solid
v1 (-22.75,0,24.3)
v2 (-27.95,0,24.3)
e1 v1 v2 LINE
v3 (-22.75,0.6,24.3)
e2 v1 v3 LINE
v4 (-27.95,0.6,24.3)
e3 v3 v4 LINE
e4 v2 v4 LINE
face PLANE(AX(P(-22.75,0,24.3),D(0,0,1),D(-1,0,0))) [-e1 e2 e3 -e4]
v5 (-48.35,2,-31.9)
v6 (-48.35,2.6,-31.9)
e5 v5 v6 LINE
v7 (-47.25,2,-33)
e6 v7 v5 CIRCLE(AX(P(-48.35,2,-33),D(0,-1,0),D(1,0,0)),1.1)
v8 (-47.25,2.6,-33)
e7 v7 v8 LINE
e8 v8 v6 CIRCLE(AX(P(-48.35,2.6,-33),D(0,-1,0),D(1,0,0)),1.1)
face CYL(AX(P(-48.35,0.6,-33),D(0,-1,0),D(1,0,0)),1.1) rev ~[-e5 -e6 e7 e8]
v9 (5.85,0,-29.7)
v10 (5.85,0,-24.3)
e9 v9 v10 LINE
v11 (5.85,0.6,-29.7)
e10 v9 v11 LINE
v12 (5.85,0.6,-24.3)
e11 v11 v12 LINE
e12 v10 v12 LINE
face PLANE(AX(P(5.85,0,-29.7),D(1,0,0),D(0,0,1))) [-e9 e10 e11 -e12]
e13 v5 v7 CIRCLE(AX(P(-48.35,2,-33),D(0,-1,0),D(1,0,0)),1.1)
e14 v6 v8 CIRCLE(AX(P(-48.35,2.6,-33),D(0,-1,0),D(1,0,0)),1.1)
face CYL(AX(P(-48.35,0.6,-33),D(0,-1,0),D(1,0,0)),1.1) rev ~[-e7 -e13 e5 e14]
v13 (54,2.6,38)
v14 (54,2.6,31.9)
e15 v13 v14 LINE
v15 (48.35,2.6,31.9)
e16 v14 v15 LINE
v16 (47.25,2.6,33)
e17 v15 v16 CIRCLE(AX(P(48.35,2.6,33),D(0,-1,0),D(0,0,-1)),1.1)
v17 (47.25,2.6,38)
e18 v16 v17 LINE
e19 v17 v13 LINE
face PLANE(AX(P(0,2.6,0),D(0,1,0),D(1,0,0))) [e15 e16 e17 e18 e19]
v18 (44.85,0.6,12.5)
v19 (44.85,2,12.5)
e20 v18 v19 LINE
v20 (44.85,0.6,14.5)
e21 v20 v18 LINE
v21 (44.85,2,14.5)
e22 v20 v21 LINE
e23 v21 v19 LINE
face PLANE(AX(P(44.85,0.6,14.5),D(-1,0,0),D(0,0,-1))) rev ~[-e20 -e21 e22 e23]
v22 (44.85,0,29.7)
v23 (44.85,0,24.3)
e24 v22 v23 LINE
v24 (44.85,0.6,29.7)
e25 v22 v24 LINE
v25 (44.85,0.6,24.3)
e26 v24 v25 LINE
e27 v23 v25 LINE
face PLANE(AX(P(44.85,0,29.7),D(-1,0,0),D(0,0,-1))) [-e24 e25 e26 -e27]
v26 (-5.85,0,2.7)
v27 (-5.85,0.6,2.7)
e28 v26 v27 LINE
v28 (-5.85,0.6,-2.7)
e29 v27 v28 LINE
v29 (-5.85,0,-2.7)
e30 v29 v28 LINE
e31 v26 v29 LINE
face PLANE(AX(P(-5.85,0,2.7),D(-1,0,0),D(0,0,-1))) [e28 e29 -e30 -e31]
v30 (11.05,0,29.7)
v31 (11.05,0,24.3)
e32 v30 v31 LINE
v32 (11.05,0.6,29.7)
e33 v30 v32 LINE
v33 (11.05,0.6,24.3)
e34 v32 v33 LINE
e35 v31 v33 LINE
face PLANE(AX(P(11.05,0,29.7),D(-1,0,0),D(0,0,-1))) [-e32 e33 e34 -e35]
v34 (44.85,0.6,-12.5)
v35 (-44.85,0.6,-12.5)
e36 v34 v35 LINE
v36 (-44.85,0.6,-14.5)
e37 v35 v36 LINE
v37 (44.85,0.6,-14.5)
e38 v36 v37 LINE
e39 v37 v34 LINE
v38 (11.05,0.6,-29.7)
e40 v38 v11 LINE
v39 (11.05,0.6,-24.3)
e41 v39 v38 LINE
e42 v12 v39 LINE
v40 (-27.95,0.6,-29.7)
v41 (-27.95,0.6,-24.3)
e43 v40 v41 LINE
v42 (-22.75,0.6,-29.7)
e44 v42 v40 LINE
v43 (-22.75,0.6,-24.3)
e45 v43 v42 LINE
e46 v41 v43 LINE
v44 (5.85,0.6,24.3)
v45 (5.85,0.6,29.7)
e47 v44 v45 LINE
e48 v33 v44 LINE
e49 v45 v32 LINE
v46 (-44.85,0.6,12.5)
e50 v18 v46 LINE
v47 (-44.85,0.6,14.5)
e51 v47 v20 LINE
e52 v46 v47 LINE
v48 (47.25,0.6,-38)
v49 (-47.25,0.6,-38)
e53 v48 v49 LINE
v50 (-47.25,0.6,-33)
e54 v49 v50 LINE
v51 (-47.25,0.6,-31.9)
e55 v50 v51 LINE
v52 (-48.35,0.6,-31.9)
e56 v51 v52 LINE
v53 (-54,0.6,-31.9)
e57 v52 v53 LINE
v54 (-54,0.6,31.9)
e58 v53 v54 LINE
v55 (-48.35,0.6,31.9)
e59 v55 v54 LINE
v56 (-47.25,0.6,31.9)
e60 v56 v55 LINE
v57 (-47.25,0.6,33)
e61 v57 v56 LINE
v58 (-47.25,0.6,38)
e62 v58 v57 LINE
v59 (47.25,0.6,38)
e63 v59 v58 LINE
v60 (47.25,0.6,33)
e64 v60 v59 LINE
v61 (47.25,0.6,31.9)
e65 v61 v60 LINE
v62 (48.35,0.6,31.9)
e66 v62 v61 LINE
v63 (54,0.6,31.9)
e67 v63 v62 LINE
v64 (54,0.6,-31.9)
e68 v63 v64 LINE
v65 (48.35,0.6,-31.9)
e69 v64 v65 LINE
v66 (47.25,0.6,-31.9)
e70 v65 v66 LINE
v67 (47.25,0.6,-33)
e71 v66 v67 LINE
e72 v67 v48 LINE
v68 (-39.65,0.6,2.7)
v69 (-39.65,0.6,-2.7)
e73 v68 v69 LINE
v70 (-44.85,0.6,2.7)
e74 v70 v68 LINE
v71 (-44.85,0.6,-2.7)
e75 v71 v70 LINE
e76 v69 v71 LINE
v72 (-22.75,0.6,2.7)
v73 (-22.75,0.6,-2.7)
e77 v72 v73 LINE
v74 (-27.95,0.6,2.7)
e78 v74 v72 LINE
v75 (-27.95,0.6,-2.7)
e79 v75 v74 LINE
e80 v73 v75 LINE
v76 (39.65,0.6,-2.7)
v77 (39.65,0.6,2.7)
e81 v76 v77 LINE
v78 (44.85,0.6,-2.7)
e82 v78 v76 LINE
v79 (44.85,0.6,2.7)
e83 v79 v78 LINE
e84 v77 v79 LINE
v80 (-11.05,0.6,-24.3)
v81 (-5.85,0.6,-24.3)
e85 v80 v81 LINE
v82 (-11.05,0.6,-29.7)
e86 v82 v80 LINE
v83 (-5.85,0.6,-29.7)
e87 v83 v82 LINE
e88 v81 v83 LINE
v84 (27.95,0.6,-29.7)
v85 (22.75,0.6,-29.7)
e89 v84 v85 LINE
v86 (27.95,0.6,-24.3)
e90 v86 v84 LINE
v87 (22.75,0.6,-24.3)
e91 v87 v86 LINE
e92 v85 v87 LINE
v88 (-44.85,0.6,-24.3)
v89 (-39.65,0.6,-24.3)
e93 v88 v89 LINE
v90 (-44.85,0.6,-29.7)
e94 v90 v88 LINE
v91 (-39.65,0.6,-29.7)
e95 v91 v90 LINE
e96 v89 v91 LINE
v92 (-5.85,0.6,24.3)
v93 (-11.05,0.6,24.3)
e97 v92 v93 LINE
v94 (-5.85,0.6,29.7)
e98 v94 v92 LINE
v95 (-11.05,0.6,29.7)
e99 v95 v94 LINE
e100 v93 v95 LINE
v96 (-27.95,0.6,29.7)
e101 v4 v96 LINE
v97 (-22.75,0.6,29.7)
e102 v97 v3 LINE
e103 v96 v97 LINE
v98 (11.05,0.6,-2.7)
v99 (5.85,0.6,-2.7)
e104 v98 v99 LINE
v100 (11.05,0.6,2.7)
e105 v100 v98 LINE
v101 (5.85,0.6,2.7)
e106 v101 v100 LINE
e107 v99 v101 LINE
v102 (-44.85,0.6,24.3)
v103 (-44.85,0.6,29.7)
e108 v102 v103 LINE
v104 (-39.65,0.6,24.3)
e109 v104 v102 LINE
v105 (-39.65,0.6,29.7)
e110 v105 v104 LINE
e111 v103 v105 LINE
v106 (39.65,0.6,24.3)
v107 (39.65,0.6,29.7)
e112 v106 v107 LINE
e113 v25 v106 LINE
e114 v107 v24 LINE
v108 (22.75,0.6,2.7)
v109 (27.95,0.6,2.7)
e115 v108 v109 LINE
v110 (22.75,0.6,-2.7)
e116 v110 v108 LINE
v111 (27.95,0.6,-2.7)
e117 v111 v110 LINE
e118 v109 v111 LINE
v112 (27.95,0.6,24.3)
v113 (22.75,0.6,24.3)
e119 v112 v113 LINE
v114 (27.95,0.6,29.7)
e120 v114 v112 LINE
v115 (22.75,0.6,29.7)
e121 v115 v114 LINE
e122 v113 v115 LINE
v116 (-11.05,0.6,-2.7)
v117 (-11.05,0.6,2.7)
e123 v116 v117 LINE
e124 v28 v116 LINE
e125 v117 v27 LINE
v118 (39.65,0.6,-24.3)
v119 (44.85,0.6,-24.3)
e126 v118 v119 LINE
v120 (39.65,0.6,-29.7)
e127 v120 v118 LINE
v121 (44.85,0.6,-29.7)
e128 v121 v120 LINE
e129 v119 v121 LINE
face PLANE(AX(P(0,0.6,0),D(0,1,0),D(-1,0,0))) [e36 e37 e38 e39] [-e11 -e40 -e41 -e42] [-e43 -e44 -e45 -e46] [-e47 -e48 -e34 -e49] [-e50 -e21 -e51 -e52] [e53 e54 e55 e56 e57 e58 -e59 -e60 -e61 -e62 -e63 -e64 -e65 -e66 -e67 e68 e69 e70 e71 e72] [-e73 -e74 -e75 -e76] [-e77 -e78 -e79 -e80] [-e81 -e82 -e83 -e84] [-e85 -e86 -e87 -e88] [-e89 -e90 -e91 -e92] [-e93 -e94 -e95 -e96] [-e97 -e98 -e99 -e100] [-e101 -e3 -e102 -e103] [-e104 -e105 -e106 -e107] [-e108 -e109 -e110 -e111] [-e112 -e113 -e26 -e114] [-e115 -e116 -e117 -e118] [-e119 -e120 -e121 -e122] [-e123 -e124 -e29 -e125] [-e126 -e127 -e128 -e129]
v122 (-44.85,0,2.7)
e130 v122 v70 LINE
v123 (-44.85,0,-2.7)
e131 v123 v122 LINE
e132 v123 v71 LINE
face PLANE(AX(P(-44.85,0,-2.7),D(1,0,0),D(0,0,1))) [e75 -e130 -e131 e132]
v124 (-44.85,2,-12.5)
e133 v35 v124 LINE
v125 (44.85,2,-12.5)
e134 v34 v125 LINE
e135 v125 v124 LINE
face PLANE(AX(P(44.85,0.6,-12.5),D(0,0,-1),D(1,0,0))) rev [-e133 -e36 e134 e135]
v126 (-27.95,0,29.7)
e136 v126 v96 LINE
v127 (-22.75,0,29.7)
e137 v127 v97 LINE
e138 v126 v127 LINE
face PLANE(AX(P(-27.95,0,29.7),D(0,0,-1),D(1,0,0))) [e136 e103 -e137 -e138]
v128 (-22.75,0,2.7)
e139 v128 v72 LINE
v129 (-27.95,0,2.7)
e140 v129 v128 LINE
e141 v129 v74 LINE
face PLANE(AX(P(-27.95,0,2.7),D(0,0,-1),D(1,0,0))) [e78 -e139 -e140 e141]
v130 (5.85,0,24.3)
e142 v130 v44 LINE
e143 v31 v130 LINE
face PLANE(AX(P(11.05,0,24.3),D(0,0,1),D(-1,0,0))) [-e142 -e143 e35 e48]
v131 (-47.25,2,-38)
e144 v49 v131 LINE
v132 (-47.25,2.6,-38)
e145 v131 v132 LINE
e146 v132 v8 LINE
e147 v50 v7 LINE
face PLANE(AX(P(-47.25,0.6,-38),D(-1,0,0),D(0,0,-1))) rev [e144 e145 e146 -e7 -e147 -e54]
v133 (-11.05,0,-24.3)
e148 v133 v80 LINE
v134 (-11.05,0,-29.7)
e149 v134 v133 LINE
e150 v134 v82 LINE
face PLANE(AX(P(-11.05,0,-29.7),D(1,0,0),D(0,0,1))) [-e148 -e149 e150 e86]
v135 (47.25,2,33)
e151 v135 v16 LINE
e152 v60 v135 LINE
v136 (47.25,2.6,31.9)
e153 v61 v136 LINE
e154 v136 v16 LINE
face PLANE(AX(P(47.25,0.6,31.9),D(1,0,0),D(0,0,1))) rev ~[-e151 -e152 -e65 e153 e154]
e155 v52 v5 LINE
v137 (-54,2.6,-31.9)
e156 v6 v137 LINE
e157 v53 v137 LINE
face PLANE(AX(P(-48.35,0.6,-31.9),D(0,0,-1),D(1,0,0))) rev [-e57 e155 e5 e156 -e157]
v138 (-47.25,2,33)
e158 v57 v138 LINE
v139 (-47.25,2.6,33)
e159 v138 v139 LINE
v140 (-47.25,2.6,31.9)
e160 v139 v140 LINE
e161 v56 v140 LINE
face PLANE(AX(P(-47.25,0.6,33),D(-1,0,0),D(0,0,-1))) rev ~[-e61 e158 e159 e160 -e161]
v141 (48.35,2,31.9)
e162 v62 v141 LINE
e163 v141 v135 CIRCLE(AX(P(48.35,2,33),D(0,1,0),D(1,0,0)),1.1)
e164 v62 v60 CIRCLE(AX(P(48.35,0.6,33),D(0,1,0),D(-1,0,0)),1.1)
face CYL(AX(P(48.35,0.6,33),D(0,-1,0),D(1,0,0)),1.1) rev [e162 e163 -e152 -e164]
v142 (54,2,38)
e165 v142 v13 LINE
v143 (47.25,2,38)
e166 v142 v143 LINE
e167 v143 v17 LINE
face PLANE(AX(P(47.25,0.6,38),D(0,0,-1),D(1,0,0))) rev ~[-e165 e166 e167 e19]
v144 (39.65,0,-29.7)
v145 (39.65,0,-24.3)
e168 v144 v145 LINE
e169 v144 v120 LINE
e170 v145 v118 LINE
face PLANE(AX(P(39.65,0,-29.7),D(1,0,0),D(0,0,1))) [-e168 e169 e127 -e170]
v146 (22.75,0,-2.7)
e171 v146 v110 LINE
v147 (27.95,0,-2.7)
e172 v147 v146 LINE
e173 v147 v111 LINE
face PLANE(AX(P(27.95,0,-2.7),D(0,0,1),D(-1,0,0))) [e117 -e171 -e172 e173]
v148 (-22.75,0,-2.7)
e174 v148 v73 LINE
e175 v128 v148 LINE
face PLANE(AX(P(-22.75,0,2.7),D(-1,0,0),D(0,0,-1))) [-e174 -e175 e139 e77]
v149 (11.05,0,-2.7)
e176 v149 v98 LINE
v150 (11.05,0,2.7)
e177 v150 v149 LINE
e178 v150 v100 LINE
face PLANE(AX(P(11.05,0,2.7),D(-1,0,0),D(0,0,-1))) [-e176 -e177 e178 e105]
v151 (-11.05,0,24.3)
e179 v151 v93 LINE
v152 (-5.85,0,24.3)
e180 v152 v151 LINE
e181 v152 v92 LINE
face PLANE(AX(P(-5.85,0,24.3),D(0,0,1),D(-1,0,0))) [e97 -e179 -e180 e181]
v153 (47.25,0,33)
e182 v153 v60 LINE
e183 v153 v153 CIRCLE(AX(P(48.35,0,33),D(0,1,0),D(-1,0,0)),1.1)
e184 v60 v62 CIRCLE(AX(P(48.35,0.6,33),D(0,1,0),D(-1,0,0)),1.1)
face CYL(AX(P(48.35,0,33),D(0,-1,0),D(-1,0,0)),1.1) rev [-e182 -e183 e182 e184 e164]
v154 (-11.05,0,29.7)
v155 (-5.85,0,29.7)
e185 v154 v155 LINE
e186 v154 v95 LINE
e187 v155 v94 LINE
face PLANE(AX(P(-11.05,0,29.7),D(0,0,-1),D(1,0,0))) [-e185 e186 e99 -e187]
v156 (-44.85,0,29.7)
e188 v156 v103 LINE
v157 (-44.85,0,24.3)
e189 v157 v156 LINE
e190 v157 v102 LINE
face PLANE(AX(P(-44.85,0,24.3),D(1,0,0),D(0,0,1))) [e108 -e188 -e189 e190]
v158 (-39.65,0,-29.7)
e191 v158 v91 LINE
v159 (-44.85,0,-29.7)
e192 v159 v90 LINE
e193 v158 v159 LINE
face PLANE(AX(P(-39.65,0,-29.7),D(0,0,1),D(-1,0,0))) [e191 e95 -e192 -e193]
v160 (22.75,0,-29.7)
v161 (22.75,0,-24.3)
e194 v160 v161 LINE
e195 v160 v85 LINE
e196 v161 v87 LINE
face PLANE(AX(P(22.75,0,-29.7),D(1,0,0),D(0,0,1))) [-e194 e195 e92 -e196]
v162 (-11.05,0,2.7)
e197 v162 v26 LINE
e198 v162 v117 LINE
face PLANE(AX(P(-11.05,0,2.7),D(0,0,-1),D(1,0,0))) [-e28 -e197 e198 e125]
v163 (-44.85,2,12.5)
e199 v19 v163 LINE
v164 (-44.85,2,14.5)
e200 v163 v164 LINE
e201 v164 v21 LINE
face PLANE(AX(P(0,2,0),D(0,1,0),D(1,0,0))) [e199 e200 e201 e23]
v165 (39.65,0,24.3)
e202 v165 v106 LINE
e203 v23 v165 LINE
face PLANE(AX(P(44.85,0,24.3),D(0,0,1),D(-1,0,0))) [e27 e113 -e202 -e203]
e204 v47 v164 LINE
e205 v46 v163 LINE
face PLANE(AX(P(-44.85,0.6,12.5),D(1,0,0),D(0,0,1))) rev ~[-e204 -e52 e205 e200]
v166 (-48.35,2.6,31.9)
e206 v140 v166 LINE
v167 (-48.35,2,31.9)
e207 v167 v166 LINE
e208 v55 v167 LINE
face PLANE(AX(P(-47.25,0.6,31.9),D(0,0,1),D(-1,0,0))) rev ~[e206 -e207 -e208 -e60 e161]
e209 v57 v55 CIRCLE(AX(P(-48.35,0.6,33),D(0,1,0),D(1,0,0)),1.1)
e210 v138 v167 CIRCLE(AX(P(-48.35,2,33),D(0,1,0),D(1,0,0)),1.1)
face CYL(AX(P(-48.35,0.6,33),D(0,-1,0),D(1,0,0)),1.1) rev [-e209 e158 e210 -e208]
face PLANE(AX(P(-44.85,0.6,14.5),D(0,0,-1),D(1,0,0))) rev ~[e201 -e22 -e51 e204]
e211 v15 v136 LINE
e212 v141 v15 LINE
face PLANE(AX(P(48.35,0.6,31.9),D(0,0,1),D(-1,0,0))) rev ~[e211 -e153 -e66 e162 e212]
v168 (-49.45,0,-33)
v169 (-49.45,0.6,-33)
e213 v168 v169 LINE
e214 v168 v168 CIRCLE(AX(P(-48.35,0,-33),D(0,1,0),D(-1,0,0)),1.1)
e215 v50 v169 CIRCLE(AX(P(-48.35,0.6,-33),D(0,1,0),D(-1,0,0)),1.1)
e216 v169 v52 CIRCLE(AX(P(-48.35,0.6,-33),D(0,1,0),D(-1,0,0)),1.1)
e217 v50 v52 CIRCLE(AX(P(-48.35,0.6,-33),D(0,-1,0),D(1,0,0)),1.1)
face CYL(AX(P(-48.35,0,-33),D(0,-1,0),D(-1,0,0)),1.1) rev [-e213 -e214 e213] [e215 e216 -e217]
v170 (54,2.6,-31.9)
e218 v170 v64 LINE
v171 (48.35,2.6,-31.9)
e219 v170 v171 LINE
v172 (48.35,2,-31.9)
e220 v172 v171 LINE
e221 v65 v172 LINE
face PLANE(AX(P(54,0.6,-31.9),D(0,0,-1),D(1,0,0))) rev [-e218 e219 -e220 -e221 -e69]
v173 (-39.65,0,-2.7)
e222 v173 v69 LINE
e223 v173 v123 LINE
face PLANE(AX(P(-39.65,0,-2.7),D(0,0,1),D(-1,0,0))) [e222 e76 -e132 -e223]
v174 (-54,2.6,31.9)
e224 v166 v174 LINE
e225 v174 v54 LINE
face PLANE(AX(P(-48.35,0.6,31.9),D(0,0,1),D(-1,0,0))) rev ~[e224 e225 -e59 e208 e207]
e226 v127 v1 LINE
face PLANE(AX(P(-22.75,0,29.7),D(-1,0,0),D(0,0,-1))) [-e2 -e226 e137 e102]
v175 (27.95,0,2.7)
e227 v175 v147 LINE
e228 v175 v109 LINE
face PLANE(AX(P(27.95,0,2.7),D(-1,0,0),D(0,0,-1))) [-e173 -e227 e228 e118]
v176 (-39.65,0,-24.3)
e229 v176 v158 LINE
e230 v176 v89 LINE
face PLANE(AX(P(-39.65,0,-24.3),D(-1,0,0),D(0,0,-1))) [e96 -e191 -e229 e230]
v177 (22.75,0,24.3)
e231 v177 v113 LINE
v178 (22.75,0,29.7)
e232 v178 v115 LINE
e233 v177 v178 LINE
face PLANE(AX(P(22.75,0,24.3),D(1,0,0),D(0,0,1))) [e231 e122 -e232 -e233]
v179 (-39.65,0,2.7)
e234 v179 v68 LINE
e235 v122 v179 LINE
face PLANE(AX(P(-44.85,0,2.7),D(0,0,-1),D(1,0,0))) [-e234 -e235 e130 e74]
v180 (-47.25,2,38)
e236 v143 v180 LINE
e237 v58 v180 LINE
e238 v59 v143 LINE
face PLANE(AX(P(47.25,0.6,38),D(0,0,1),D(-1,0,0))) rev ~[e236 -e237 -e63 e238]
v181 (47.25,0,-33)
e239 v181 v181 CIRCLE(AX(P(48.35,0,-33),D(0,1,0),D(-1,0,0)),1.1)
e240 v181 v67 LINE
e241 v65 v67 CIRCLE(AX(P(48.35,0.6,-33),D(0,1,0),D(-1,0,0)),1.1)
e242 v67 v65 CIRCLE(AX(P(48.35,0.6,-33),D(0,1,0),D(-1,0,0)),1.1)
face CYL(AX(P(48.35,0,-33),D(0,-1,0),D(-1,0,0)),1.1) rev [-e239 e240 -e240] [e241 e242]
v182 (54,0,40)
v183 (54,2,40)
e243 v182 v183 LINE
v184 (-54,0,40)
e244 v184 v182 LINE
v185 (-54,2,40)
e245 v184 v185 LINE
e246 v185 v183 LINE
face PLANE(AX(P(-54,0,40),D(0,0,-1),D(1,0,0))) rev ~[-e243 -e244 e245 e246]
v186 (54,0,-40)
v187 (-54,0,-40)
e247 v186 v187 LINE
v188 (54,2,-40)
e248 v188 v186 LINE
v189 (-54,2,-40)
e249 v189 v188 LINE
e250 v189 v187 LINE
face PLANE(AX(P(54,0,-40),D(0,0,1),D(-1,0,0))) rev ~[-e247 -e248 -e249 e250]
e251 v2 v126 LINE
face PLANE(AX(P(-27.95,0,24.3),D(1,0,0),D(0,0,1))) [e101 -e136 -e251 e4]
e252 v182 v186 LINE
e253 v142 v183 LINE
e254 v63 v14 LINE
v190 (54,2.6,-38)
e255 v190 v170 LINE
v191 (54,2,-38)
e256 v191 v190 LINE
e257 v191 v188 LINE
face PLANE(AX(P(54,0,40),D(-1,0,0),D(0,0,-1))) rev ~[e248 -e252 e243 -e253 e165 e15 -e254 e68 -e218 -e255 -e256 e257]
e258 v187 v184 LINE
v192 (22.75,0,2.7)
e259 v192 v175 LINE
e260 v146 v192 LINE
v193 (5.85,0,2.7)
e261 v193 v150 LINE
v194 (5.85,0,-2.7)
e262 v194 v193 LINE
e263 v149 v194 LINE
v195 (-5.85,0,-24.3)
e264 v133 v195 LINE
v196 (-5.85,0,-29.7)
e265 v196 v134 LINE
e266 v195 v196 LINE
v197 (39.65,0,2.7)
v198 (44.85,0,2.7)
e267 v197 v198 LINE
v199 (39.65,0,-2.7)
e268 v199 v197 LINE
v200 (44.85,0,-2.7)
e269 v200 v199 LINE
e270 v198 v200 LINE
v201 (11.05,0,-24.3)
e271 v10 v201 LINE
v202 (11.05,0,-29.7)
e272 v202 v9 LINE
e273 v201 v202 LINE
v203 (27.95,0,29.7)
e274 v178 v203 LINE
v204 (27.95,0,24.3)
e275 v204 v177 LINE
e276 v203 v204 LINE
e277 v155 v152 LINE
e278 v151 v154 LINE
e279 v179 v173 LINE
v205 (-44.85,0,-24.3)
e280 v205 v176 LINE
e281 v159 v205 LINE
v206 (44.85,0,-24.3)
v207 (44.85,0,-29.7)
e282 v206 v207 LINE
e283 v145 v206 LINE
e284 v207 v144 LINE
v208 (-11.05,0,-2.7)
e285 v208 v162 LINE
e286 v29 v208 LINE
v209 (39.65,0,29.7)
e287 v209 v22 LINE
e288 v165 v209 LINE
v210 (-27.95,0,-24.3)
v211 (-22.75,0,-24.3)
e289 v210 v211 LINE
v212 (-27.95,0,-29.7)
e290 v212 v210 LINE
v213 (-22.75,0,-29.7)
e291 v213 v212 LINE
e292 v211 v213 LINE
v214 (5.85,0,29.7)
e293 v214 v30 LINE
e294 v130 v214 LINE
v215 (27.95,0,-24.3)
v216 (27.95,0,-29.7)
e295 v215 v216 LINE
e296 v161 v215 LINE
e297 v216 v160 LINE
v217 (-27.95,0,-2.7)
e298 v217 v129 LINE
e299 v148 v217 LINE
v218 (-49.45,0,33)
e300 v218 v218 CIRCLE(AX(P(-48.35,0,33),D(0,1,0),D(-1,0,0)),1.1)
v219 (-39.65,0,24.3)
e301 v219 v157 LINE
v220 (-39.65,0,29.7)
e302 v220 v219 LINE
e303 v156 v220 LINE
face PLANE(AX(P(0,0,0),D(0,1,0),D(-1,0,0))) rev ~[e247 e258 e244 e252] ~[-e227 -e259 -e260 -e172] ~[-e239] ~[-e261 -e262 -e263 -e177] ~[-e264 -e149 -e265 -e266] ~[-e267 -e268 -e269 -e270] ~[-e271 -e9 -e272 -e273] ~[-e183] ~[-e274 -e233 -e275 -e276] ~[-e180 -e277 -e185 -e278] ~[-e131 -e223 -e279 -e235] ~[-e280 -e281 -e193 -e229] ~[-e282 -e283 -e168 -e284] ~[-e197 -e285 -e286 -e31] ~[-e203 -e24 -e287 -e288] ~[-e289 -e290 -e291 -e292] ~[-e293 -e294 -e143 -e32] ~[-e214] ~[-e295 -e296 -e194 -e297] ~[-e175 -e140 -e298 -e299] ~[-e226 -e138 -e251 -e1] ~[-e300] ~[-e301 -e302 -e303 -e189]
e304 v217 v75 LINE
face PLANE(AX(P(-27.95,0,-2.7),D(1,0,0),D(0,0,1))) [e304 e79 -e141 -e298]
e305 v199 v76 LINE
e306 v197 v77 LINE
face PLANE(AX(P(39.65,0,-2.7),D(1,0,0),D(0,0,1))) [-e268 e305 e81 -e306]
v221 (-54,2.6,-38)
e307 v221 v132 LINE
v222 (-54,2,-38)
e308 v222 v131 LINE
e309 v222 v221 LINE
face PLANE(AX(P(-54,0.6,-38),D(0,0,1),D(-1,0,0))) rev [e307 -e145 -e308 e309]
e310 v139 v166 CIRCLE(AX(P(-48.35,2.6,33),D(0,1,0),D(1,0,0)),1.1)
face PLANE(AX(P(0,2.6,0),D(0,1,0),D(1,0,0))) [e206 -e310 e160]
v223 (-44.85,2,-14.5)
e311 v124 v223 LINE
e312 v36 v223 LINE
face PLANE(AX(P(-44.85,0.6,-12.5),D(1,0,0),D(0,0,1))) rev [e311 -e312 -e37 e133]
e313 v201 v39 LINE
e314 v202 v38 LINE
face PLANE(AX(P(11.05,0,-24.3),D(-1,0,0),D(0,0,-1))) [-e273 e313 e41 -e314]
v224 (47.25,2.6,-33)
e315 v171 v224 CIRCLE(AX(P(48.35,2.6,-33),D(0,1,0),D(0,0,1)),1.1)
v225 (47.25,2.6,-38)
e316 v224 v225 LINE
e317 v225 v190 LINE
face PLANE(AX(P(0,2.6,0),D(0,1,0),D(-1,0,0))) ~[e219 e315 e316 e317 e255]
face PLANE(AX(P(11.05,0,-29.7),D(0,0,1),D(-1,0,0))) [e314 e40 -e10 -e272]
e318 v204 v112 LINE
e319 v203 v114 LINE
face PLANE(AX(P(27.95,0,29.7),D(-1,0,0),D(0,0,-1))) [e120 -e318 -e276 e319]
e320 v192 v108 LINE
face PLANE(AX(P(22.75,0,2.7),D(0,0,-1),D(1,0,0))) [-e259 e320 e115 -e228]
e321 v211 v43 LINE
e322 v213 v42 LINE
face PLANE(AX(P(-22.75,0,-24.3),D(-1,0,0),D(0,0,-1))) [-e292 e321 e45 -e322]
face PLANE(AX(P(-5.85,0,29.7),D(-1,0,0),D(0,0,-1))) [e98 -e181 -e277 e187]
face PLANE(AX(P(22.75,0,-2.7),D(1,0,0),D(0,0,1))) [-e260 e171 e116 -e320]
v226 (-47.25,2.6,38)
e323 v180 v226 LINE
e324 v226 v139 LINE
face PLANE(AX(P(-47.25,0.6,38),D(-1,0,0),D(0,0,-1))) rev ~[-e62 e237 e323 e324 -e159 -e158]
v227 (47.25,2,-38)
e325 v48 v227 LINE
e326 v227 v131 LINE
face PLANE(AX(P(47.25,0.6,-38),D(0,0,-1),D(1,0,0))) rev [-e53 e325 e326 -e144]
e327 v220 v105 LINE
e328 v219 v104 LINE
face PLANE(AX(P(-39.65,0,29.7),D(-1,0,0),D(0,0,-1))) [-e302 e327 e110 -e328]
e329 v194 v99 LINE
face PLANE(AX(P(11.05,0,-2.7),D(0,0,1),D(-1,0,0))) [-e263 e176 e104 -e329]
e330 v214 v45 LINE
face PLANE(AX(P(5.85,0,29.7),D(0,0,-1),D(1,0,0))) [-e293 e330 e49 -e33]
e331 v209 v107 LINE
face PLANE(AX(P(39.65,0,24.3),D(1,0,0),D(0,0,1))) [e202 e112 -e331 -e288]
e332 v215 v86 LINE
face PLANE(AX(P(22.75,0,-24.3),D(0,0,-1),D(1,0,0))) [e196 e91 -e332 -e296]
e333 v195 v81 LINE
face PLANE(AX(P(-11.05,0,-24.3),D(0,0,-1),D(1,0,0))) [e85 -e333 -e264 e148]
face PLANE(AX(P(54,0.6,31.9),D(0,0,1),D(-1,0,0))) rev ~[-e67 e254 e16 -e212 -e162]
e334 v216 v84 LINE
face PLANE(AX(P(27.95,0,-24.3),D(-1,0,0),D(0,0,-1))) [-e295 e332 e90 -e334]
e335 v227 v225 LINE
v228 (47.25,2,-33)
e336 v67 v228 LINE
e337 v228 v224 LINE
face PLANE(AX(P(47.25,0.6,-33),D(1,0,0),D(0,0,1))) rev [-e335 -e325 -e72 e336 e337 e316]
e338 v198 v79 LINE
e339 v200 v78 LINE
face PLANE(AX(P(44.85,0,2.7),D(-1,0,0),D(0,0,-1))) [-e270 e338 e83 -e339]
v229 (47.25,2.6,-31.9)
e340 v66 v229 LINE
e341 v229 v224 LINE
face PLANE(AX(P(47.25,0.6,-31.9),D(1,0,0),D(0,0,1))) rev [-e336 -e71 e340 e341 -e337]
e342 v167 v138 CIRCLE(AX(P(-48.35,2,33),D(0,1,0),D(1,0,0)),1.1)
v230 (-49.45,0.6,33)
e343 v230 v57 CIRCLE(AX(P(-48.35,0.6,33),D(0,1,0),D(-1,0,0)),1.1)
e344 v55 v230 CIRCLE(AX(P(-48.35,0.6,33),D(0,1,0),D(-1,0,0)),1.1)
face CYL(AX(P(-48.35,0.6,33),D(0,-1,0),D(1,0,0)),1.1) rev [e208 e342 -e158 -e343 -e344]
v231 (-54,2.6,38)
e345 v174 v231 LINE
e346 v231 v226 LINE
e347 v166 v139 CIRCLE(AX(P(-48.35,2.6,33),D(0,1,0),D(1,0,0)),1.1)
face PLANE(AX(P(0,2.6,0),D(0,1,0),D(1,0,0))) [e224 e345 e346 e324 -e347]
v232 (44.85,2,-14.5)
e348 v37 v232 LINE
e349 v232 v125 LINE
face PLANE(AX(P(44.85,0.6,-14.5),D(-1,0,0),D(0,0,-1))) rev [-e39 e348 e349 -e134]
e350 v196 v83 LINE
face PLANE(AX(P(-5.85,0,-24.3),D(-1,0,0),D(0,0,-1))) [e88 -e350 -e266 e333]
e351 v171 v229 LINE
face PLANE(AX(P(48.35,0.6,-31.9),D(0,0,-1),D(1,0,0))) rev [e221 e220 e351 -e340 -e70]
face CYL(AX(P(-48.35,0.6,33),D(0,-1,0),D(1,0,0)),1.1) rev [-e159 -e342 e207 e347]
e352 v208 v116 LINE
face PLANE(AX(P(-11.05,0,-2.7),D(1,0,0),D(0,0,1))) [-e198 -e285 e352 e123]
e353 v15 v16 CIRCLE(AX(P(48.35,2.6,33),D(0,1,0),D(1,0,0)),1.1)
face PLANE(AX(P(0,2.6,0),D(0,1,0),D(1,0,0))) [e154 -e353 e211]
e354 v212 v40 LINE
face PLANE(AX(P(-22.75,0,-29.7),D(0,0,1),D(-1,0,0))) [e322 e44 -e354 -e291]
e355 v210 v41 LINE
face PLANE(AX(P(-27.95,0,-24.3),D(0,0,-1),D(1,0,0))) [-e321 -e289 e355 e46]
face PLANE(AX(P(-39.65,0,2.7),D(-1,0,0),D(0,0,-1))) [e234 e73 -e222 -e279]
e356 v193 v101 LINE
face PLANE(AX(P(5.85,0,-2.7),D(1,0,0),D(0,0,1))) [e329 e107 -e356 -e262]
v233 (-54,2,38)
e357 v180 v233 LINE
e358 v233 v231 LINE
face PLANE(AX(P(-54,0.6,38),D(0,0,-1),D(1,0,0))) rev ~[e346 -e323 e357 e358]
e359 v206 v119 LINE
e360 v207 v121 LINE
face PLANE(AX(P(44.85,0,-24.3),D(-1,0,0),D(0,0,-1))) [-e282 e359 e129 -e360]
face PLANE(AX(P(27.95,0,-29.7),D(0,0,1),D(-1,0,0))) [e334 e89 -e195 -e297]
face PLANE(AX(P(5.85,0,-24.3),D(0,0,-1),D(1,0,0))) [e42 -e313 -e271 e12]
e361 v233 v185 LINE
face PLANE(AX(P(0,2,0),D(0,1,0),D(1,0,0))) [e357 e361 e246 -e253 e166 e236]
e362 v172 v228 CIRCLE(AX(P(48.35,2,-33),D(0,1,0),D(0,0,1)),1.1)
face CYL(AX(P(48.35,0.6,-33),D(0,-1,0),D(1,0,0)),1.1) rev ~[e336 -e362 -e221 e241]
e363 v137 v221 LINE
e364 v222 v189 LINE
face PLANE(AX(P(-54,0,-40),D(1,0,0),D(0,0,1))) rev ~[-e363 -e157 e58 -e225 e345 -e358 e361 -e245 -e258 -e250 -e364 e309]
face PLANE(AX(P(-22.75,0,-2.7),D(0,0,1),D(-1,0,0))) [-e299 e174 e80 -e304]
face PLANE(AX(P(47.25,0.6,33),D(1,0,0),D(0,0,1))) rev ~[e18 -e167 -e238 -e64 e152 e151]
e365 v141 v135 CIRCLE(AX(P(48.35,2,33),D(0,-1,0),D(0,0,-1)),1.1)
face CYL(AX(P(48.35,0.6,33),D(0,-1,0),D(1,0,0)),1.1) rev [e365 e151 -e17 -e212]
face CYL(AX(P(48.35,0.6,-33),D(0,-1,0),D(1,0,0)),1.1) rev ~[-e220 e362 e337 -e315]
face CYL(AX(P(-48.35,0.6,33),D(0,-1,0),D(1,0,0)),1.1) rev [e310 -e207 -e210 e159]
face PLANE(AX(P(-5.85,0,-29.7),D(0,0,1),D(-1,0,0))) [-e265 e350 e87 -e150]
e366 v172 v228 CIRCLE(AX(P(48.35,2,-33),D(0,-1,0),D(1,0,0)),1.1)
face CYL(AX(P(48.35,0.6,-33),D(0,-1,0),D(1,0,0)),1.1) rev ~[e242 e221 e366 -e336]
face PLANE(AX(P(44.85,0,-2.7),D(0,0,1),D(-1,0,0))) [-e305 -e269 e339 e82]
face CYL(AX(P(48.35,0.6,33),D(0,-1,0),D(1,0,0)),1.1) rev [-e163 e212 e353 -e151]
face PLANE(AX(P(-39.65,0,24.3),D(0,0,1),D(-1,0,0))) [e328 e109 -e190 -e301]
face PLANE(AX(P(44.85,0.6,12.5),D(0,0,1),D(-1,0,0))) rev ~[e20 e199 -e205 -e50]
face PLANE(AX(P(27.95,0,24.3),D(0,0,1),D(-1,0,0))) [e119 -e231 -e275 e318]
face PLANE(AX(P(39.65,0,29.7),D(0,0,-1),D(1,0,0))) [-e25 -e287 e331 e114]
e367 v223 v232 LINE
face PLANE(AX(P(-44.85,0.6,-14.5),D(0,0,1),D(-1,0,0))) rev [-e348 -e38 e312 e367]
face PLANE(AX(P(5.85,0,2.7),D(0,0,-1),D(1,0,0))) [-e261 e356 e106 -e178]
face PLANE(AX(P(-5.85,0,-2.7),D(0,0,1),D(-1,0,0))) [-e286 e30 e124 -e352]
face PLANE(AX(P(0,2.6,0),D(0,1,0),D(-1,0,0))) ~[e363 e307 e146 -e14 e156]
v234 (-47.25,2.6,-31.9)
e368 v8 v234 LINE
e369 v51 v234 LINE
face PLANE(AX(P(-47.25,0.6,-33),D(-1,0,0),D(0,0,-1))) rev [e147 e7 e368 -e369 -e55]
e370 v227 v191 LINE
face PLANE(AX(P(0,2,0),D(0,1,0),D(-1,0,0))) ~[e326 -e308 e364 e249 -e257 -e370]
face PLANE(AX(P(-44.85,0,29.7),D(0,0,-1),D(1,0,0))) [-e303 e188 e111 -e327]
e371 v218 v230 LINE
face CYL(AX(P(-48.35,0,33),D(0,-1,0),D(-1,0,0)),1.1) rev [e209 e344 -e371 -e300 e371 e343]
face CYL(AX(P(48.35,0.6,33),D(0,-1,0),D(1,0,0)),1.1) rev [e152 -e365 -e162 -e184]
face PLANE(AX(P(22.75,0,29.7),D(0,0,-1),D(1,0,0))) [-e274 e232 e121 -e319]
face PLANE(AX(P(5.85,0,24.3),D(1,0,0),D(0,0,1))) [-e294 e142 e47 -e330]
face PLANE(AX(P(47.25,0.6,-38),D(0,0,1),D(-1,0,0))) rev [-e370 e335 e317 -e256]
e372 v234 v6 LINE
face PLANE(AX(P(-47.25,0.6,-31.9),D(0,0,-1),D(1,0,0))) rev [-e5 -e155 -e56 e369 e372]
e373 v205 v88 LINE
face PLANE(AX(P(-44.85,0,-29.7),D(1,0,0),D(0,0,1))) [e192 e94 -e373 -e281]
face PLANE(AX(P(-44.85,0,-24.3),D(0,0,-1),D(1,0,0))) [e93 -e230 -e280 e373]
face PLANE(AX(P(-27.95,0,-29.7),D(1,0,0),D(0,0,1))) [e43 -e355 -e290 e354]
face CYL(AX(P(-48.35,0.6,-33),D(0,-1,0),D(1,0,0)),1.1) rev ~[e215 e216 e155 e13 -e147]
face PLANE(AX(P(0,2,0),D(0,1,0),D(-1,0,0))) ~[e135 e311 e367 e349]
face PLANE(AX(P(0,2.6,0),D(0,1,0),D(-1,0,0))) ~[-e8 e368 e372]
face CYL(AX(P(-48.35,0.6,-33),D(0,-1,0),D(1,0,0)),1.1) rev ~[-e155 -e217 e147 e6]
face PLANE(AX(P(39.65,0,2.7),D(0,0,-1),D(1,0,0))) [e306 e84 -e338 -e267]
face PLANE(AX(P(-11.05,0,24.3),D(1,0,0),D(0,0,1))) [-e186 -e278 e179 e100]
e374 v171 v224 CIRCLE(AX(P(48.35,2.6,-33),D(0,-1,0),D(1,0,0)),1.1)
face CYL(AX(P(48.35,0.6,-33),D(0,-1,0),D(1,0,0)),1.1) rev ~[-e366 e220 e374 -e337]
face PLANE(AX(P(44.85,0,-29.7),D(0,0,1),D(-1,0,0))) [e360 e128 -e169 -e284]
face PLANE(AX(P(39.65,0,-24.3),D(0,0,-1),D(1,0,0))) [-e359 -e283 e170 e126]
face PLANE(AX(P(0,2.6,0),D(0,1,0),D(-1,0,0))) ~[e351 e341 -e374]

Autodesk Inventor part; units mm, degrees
ref_plane "YZ Plane" through (0, 0, 0) normal (1, 0, 0) x (0, 1, 0)
ref_plane "XZ Plane" through (0, 0, 0) normal (0, 1, 0) x (-1, 0, 0)
ref_plane "XY Plane" through (0, 0, 0) normal (0, 0, 1) x (1, 0, 0)
sketch "Sketch1" plane through (0, 0, 0) normal (0, 1, 0) x (-1, 0, 0)
  line L0 (54, 40) -> (-54, 40)
  line L1 (-54, 40) -> (-54, -40)
  line L2 (-54, -40) -> (54, -40)
  line L3 (54, -40) -> (54, 40)
  line L4 (44.85, 29.7) -> (39.65, 29.7)
  line L5 (39.65, 29.7) -> (39.65, 24.3)
  line L6 (39.65, 24.3) -> (44.85, 24.3)
  line L7 (44.85, 24.3) -> (44.85, 29.7)
  line L8 (44.85, 2.7) -> (39.65, 2.7)
  line L9 (39.65, 2.7) -> (39.65, -2.7)
  line L10 (39.65, -2.7) -> (44.85, -2.7)
  line L11 (44.85, -2.7) -> (44.85, 2.7)
  line L12 (44.85, -24.3) -> (39.65, -24.3)
  line L13 (39.65, -24.3) -> (39.65, -29.7)
  line L14 (39.65, -29.7) -> (44.85, -29.7)
  line L15 (44.85, -29.7) -> (44.85, -24.3)
  line L16 (27.95, 29.7) -> (22.75, 29.7)
  line L17 (22.75, 29.7) -> (22.75, 24.3)
  line L18 (22.75, 24.3) -> (27.95, 24.3)
  line L19 (27.95, 24.3) -> (27.95, 29.7)
  line L20 (27.95, 2.7) -> (22.75, 2.7)
  line L21 (22.75, 2.7) -> (22.75, -2.7)
  line L22 (22.75, -2.7) -> (27.95, -2.7)
  line L23 (27.95, -2.7) -> (27.95, 2.7)
  line L24 (27.95, -24.3) -> (22.75, -24.3)
  line L25 (22.75, -24.3) -> (22.75, -29.7)
  line L26 (22.75, -29.7) -> (27.95, -29.7)
  line L27 (27.95, -29.7) -> (27.95, -24.3)
  line L28 (11.05, 29.7) -> (5.85, 29.7)
  line L29 (5.85, 29.7) -> (5.85, 24.3)
  line L30 (5.85, 24.3) -> (11.05, 24.3)
  line L31 (11.05, 24.3) -> (11.05, 29.7)
  line L32 (11.05, 2.7) -> (5.85, 2.7)
  line L33 (5.85, 2.7) -> (5.85, -2.7)
  line L34 (5.85, -2.7) -> (11.05, -2.7)
  line L35 (11.05, -2.7) -> (11.05, 2.7)
  line L36 (11.05, -24.3) -> (5.85, -24.3)
  line L37 (5.85, -24.3) -> (5.85, -29.7)
  line L38 (5.85, -29.7) -> (11.05, -29.7)
  line L39 (11.05, -29.7) -> (11.05, -24.3)
  line L40 (-5.85, 29.7) -> (-11.05, 29.7)
  line L41 (-11.05, 29.7) -> (-11.05, 24.3)
  line L42 (-11.05, 24.3) -> (-5.85, 24.3)
  line L43 (-5.85, 24.3) -> (-5.85, 29.7)
  line L44 (-5.85, 2.7) -> (-11.05, 2.7)
  line L45 (-11.05, 2.7) -> (-11.05, -2.7)
  line L46 (-11.05, -2.7) -> (-5.85, -2.7)
  line L47 (-5.85, -2.7) -> (-5.85, 2.7)
  line L48 (-5.85, -24.3) -> (-11.05, -24.3)
  line L49 (-11.05, -24.3) -> (-11.05, -29.7)
  line L50 (-11.05, -29.7) -> (-5.85, -29.7)
  line L51 (-5.85, -29.7) -> (-5.85, -24.3)
  line L52 (-22.75, 29.7) -> (-27.95, 29.7)
  line L53 (-27.95, 29.7) -> (-27.95, 24.3)
  line L54 (-27.95, 24.3) -> (-22.75, 24.3)
  line L55 (-22.75, 24.3) -> (-22.75, 29.7)
  line L56 (-22.75, 2.7) -> (-27.95, 2.7)
  line L57 (-27.95, 2.7) -> (-27.95, -2.7)
  line L58 (-27.95, -2.7) -> (-22.75, -2.7)
  line L59 (-22.75, -2.7) -> (-22.75, 2.7)
  line L60 (-22.75, -24.3) -> (-27.95, -24.3)
  line L61 (-27.95, -24.3) -> (-27.95, -29.7)
  line L62 (-27.95, -29.7) -> (-22.75, -29.7)
  line L63 (-22.75, -29.7) -> (-22.75, -24.3)
  line L64 (-39.65, 29.7) -> (-44.85, 29.7)
  line L65 (-44.85, 29.7) -> (-44.85, 24.3)
  line L66 (-44.85, 24.3) -> (-39.65, 24.3)
  line L67 (-39.65, 24.3) -> (-39.65, 29.7)
  line L68 (-39.65, 2.7) -> (-44.85, 2.7)
  line L69 (-44.85, 2.7) -> (-44.85, -2.7)
  line L70 (-44.85, -2.7) -> (-39.65, -2.7)
  line L71 (-39.65, -2.7) -> (-39.65, 2.7)
  line L72 (-39.65, -24.3) -> (-44.85, -24.3)
  line L73 (-44.85, -24.3) -> (-44.85, -29.7)
  line L74 (-44.85, -29.7) -> (-39.65, -29.7)
  line L75 (-39.65, -29.7) -> (-39.65, -24.3)
  line L76 (54, 0) -> (-54, 0) construction
  line L77 (0, 40) -> (0, -40) construction
  line L78 (5.85, 0) -> (-5.85, 0) construction
  circle A0 centre (48.35, 33) radius 1.1
  circle A1 centre (-48.35, 33) radius 1.1
  line L79 (48.35, 33) -> (-48.35, 33) construction
  circle A2 centre (48.35, -33) radius 1.1
  circle A3 centre (-48.35, -33) radius 1.1
  point P0 (0, 0)
  point P1 (44.85, 0)
  point P2 (0, 0)
  point P3 (0, 33)
  point P4 (0, 0)
  dimension "d0" = 108
  dimension "d1" = 80
  dimension "d2" = 5.2
  dimension "d3" = 5.4
  dimension "d6" = 27
  dimension "d9" = 16.9
  dimension "d12" = 2.2
  dimension "d13" = 2.2
  dimension "d14" = 96.7
  dimension "d15" = 33
extrude "Extrusion1" add sketch "Sketch1" along normal blind 0.6
sketch "Sketch2" plane through (0, 0.6, 0) normal (0, 1, 0) x (1, 0, 0)
  line L0 (53.2, 0) -> (54, 0)
  line L1 (-53.2, 0) -> (-54, 0)
  line L2 (-44.85, -14.5) -> (44.85, -14.5)
  line L3 (44.85, -14.5) -> (44.85, -12.5)
  line L4 (44.85, -12.5) -> (-44.85, -12.5)
  line L5 (-44.85, -12.5) -> (-44.85, -14.5)
  line L6 (-44.85, -24.3) -> (-39.65, -24.3) projected
  line L7 (-39.65, -2.7) -> (-44.85, -2.7) projected
  line L8 (-44.85, -24.3) -> (-44.85, -2.7) construction
  line L9 (39.65, -24.3) -> (44.85, -24.3) projected
  line L10 (44.85, -2.7) -> (39.65, -2.7) projected
  line L11 (44.85, -24.3) -> (44.85, -2.7) construction
  line L12 (54, -31.9) -> (47.25, -31.9)
  line L13 (47.25, -31.9) -> (47.25, -38)
  line L14 (47.25, -38) -> (54, -38)
  line L15 (54, -38) -> (54, -31.9)
  circle A0 centre (48.35, -33) radius 1.1 projected
  circle A1 centre (-48.35, -33) radius 1.1 projected
  line L16 (-54, -38) -> (-47.25, -38)
  line L17 (-47.25, -38) -> (-47.25, -31.9)
  line L18 (-47.25, -31.9) -> (-54, -31.9)
  line L19 (-54, -31.9) -> (-54, -38)
  line L20 (54, -40) -> (54, 40) projected
  line L21 (-54, 40) -> (-54, -40) projected
  line L22 (-54, -40) -> (54, -40)
  line L23 (54, -40) -> (54, -38)
  line L24 (54, -38) -> (-54, -38)
  line L25 (-54, -38) -> (-54, -40)
  point P0 (0, 0)
  point P1 (54, -40)
  point P2 (-44.85, -13.5)
  point P3 (44.85, -13.5)
  dimension "d21" = 2
extrude "Extrusion2" add sketch "Sketch2" along normal blind 1.4 contours L5 L4 L3 L2 | L15 L14 L13 A0 L12 | A0 L13 L12 | L20 L22 L21 L16 L24 L14 | L16 L19 L18 A1 L17 | A1 L18 L17
mirror "Mirror1" about plane through (0, 0, 0) normal (0, 0, 1) of "Extrusion2"
extrude "Extrusion3" add sketch "Sketch2" along normal blind 2 contours L15 L14 L13 A0 L12 | A0 L13 L12 | L16 L19 L18 A1 L17 | A1 L18 L17
mirror "Mirror2" about plane through (0, 0, 0) normal (0, 0, 1) of "Extrusion3"
equation "\"d13\" = d12"
properties part number "portaled"
